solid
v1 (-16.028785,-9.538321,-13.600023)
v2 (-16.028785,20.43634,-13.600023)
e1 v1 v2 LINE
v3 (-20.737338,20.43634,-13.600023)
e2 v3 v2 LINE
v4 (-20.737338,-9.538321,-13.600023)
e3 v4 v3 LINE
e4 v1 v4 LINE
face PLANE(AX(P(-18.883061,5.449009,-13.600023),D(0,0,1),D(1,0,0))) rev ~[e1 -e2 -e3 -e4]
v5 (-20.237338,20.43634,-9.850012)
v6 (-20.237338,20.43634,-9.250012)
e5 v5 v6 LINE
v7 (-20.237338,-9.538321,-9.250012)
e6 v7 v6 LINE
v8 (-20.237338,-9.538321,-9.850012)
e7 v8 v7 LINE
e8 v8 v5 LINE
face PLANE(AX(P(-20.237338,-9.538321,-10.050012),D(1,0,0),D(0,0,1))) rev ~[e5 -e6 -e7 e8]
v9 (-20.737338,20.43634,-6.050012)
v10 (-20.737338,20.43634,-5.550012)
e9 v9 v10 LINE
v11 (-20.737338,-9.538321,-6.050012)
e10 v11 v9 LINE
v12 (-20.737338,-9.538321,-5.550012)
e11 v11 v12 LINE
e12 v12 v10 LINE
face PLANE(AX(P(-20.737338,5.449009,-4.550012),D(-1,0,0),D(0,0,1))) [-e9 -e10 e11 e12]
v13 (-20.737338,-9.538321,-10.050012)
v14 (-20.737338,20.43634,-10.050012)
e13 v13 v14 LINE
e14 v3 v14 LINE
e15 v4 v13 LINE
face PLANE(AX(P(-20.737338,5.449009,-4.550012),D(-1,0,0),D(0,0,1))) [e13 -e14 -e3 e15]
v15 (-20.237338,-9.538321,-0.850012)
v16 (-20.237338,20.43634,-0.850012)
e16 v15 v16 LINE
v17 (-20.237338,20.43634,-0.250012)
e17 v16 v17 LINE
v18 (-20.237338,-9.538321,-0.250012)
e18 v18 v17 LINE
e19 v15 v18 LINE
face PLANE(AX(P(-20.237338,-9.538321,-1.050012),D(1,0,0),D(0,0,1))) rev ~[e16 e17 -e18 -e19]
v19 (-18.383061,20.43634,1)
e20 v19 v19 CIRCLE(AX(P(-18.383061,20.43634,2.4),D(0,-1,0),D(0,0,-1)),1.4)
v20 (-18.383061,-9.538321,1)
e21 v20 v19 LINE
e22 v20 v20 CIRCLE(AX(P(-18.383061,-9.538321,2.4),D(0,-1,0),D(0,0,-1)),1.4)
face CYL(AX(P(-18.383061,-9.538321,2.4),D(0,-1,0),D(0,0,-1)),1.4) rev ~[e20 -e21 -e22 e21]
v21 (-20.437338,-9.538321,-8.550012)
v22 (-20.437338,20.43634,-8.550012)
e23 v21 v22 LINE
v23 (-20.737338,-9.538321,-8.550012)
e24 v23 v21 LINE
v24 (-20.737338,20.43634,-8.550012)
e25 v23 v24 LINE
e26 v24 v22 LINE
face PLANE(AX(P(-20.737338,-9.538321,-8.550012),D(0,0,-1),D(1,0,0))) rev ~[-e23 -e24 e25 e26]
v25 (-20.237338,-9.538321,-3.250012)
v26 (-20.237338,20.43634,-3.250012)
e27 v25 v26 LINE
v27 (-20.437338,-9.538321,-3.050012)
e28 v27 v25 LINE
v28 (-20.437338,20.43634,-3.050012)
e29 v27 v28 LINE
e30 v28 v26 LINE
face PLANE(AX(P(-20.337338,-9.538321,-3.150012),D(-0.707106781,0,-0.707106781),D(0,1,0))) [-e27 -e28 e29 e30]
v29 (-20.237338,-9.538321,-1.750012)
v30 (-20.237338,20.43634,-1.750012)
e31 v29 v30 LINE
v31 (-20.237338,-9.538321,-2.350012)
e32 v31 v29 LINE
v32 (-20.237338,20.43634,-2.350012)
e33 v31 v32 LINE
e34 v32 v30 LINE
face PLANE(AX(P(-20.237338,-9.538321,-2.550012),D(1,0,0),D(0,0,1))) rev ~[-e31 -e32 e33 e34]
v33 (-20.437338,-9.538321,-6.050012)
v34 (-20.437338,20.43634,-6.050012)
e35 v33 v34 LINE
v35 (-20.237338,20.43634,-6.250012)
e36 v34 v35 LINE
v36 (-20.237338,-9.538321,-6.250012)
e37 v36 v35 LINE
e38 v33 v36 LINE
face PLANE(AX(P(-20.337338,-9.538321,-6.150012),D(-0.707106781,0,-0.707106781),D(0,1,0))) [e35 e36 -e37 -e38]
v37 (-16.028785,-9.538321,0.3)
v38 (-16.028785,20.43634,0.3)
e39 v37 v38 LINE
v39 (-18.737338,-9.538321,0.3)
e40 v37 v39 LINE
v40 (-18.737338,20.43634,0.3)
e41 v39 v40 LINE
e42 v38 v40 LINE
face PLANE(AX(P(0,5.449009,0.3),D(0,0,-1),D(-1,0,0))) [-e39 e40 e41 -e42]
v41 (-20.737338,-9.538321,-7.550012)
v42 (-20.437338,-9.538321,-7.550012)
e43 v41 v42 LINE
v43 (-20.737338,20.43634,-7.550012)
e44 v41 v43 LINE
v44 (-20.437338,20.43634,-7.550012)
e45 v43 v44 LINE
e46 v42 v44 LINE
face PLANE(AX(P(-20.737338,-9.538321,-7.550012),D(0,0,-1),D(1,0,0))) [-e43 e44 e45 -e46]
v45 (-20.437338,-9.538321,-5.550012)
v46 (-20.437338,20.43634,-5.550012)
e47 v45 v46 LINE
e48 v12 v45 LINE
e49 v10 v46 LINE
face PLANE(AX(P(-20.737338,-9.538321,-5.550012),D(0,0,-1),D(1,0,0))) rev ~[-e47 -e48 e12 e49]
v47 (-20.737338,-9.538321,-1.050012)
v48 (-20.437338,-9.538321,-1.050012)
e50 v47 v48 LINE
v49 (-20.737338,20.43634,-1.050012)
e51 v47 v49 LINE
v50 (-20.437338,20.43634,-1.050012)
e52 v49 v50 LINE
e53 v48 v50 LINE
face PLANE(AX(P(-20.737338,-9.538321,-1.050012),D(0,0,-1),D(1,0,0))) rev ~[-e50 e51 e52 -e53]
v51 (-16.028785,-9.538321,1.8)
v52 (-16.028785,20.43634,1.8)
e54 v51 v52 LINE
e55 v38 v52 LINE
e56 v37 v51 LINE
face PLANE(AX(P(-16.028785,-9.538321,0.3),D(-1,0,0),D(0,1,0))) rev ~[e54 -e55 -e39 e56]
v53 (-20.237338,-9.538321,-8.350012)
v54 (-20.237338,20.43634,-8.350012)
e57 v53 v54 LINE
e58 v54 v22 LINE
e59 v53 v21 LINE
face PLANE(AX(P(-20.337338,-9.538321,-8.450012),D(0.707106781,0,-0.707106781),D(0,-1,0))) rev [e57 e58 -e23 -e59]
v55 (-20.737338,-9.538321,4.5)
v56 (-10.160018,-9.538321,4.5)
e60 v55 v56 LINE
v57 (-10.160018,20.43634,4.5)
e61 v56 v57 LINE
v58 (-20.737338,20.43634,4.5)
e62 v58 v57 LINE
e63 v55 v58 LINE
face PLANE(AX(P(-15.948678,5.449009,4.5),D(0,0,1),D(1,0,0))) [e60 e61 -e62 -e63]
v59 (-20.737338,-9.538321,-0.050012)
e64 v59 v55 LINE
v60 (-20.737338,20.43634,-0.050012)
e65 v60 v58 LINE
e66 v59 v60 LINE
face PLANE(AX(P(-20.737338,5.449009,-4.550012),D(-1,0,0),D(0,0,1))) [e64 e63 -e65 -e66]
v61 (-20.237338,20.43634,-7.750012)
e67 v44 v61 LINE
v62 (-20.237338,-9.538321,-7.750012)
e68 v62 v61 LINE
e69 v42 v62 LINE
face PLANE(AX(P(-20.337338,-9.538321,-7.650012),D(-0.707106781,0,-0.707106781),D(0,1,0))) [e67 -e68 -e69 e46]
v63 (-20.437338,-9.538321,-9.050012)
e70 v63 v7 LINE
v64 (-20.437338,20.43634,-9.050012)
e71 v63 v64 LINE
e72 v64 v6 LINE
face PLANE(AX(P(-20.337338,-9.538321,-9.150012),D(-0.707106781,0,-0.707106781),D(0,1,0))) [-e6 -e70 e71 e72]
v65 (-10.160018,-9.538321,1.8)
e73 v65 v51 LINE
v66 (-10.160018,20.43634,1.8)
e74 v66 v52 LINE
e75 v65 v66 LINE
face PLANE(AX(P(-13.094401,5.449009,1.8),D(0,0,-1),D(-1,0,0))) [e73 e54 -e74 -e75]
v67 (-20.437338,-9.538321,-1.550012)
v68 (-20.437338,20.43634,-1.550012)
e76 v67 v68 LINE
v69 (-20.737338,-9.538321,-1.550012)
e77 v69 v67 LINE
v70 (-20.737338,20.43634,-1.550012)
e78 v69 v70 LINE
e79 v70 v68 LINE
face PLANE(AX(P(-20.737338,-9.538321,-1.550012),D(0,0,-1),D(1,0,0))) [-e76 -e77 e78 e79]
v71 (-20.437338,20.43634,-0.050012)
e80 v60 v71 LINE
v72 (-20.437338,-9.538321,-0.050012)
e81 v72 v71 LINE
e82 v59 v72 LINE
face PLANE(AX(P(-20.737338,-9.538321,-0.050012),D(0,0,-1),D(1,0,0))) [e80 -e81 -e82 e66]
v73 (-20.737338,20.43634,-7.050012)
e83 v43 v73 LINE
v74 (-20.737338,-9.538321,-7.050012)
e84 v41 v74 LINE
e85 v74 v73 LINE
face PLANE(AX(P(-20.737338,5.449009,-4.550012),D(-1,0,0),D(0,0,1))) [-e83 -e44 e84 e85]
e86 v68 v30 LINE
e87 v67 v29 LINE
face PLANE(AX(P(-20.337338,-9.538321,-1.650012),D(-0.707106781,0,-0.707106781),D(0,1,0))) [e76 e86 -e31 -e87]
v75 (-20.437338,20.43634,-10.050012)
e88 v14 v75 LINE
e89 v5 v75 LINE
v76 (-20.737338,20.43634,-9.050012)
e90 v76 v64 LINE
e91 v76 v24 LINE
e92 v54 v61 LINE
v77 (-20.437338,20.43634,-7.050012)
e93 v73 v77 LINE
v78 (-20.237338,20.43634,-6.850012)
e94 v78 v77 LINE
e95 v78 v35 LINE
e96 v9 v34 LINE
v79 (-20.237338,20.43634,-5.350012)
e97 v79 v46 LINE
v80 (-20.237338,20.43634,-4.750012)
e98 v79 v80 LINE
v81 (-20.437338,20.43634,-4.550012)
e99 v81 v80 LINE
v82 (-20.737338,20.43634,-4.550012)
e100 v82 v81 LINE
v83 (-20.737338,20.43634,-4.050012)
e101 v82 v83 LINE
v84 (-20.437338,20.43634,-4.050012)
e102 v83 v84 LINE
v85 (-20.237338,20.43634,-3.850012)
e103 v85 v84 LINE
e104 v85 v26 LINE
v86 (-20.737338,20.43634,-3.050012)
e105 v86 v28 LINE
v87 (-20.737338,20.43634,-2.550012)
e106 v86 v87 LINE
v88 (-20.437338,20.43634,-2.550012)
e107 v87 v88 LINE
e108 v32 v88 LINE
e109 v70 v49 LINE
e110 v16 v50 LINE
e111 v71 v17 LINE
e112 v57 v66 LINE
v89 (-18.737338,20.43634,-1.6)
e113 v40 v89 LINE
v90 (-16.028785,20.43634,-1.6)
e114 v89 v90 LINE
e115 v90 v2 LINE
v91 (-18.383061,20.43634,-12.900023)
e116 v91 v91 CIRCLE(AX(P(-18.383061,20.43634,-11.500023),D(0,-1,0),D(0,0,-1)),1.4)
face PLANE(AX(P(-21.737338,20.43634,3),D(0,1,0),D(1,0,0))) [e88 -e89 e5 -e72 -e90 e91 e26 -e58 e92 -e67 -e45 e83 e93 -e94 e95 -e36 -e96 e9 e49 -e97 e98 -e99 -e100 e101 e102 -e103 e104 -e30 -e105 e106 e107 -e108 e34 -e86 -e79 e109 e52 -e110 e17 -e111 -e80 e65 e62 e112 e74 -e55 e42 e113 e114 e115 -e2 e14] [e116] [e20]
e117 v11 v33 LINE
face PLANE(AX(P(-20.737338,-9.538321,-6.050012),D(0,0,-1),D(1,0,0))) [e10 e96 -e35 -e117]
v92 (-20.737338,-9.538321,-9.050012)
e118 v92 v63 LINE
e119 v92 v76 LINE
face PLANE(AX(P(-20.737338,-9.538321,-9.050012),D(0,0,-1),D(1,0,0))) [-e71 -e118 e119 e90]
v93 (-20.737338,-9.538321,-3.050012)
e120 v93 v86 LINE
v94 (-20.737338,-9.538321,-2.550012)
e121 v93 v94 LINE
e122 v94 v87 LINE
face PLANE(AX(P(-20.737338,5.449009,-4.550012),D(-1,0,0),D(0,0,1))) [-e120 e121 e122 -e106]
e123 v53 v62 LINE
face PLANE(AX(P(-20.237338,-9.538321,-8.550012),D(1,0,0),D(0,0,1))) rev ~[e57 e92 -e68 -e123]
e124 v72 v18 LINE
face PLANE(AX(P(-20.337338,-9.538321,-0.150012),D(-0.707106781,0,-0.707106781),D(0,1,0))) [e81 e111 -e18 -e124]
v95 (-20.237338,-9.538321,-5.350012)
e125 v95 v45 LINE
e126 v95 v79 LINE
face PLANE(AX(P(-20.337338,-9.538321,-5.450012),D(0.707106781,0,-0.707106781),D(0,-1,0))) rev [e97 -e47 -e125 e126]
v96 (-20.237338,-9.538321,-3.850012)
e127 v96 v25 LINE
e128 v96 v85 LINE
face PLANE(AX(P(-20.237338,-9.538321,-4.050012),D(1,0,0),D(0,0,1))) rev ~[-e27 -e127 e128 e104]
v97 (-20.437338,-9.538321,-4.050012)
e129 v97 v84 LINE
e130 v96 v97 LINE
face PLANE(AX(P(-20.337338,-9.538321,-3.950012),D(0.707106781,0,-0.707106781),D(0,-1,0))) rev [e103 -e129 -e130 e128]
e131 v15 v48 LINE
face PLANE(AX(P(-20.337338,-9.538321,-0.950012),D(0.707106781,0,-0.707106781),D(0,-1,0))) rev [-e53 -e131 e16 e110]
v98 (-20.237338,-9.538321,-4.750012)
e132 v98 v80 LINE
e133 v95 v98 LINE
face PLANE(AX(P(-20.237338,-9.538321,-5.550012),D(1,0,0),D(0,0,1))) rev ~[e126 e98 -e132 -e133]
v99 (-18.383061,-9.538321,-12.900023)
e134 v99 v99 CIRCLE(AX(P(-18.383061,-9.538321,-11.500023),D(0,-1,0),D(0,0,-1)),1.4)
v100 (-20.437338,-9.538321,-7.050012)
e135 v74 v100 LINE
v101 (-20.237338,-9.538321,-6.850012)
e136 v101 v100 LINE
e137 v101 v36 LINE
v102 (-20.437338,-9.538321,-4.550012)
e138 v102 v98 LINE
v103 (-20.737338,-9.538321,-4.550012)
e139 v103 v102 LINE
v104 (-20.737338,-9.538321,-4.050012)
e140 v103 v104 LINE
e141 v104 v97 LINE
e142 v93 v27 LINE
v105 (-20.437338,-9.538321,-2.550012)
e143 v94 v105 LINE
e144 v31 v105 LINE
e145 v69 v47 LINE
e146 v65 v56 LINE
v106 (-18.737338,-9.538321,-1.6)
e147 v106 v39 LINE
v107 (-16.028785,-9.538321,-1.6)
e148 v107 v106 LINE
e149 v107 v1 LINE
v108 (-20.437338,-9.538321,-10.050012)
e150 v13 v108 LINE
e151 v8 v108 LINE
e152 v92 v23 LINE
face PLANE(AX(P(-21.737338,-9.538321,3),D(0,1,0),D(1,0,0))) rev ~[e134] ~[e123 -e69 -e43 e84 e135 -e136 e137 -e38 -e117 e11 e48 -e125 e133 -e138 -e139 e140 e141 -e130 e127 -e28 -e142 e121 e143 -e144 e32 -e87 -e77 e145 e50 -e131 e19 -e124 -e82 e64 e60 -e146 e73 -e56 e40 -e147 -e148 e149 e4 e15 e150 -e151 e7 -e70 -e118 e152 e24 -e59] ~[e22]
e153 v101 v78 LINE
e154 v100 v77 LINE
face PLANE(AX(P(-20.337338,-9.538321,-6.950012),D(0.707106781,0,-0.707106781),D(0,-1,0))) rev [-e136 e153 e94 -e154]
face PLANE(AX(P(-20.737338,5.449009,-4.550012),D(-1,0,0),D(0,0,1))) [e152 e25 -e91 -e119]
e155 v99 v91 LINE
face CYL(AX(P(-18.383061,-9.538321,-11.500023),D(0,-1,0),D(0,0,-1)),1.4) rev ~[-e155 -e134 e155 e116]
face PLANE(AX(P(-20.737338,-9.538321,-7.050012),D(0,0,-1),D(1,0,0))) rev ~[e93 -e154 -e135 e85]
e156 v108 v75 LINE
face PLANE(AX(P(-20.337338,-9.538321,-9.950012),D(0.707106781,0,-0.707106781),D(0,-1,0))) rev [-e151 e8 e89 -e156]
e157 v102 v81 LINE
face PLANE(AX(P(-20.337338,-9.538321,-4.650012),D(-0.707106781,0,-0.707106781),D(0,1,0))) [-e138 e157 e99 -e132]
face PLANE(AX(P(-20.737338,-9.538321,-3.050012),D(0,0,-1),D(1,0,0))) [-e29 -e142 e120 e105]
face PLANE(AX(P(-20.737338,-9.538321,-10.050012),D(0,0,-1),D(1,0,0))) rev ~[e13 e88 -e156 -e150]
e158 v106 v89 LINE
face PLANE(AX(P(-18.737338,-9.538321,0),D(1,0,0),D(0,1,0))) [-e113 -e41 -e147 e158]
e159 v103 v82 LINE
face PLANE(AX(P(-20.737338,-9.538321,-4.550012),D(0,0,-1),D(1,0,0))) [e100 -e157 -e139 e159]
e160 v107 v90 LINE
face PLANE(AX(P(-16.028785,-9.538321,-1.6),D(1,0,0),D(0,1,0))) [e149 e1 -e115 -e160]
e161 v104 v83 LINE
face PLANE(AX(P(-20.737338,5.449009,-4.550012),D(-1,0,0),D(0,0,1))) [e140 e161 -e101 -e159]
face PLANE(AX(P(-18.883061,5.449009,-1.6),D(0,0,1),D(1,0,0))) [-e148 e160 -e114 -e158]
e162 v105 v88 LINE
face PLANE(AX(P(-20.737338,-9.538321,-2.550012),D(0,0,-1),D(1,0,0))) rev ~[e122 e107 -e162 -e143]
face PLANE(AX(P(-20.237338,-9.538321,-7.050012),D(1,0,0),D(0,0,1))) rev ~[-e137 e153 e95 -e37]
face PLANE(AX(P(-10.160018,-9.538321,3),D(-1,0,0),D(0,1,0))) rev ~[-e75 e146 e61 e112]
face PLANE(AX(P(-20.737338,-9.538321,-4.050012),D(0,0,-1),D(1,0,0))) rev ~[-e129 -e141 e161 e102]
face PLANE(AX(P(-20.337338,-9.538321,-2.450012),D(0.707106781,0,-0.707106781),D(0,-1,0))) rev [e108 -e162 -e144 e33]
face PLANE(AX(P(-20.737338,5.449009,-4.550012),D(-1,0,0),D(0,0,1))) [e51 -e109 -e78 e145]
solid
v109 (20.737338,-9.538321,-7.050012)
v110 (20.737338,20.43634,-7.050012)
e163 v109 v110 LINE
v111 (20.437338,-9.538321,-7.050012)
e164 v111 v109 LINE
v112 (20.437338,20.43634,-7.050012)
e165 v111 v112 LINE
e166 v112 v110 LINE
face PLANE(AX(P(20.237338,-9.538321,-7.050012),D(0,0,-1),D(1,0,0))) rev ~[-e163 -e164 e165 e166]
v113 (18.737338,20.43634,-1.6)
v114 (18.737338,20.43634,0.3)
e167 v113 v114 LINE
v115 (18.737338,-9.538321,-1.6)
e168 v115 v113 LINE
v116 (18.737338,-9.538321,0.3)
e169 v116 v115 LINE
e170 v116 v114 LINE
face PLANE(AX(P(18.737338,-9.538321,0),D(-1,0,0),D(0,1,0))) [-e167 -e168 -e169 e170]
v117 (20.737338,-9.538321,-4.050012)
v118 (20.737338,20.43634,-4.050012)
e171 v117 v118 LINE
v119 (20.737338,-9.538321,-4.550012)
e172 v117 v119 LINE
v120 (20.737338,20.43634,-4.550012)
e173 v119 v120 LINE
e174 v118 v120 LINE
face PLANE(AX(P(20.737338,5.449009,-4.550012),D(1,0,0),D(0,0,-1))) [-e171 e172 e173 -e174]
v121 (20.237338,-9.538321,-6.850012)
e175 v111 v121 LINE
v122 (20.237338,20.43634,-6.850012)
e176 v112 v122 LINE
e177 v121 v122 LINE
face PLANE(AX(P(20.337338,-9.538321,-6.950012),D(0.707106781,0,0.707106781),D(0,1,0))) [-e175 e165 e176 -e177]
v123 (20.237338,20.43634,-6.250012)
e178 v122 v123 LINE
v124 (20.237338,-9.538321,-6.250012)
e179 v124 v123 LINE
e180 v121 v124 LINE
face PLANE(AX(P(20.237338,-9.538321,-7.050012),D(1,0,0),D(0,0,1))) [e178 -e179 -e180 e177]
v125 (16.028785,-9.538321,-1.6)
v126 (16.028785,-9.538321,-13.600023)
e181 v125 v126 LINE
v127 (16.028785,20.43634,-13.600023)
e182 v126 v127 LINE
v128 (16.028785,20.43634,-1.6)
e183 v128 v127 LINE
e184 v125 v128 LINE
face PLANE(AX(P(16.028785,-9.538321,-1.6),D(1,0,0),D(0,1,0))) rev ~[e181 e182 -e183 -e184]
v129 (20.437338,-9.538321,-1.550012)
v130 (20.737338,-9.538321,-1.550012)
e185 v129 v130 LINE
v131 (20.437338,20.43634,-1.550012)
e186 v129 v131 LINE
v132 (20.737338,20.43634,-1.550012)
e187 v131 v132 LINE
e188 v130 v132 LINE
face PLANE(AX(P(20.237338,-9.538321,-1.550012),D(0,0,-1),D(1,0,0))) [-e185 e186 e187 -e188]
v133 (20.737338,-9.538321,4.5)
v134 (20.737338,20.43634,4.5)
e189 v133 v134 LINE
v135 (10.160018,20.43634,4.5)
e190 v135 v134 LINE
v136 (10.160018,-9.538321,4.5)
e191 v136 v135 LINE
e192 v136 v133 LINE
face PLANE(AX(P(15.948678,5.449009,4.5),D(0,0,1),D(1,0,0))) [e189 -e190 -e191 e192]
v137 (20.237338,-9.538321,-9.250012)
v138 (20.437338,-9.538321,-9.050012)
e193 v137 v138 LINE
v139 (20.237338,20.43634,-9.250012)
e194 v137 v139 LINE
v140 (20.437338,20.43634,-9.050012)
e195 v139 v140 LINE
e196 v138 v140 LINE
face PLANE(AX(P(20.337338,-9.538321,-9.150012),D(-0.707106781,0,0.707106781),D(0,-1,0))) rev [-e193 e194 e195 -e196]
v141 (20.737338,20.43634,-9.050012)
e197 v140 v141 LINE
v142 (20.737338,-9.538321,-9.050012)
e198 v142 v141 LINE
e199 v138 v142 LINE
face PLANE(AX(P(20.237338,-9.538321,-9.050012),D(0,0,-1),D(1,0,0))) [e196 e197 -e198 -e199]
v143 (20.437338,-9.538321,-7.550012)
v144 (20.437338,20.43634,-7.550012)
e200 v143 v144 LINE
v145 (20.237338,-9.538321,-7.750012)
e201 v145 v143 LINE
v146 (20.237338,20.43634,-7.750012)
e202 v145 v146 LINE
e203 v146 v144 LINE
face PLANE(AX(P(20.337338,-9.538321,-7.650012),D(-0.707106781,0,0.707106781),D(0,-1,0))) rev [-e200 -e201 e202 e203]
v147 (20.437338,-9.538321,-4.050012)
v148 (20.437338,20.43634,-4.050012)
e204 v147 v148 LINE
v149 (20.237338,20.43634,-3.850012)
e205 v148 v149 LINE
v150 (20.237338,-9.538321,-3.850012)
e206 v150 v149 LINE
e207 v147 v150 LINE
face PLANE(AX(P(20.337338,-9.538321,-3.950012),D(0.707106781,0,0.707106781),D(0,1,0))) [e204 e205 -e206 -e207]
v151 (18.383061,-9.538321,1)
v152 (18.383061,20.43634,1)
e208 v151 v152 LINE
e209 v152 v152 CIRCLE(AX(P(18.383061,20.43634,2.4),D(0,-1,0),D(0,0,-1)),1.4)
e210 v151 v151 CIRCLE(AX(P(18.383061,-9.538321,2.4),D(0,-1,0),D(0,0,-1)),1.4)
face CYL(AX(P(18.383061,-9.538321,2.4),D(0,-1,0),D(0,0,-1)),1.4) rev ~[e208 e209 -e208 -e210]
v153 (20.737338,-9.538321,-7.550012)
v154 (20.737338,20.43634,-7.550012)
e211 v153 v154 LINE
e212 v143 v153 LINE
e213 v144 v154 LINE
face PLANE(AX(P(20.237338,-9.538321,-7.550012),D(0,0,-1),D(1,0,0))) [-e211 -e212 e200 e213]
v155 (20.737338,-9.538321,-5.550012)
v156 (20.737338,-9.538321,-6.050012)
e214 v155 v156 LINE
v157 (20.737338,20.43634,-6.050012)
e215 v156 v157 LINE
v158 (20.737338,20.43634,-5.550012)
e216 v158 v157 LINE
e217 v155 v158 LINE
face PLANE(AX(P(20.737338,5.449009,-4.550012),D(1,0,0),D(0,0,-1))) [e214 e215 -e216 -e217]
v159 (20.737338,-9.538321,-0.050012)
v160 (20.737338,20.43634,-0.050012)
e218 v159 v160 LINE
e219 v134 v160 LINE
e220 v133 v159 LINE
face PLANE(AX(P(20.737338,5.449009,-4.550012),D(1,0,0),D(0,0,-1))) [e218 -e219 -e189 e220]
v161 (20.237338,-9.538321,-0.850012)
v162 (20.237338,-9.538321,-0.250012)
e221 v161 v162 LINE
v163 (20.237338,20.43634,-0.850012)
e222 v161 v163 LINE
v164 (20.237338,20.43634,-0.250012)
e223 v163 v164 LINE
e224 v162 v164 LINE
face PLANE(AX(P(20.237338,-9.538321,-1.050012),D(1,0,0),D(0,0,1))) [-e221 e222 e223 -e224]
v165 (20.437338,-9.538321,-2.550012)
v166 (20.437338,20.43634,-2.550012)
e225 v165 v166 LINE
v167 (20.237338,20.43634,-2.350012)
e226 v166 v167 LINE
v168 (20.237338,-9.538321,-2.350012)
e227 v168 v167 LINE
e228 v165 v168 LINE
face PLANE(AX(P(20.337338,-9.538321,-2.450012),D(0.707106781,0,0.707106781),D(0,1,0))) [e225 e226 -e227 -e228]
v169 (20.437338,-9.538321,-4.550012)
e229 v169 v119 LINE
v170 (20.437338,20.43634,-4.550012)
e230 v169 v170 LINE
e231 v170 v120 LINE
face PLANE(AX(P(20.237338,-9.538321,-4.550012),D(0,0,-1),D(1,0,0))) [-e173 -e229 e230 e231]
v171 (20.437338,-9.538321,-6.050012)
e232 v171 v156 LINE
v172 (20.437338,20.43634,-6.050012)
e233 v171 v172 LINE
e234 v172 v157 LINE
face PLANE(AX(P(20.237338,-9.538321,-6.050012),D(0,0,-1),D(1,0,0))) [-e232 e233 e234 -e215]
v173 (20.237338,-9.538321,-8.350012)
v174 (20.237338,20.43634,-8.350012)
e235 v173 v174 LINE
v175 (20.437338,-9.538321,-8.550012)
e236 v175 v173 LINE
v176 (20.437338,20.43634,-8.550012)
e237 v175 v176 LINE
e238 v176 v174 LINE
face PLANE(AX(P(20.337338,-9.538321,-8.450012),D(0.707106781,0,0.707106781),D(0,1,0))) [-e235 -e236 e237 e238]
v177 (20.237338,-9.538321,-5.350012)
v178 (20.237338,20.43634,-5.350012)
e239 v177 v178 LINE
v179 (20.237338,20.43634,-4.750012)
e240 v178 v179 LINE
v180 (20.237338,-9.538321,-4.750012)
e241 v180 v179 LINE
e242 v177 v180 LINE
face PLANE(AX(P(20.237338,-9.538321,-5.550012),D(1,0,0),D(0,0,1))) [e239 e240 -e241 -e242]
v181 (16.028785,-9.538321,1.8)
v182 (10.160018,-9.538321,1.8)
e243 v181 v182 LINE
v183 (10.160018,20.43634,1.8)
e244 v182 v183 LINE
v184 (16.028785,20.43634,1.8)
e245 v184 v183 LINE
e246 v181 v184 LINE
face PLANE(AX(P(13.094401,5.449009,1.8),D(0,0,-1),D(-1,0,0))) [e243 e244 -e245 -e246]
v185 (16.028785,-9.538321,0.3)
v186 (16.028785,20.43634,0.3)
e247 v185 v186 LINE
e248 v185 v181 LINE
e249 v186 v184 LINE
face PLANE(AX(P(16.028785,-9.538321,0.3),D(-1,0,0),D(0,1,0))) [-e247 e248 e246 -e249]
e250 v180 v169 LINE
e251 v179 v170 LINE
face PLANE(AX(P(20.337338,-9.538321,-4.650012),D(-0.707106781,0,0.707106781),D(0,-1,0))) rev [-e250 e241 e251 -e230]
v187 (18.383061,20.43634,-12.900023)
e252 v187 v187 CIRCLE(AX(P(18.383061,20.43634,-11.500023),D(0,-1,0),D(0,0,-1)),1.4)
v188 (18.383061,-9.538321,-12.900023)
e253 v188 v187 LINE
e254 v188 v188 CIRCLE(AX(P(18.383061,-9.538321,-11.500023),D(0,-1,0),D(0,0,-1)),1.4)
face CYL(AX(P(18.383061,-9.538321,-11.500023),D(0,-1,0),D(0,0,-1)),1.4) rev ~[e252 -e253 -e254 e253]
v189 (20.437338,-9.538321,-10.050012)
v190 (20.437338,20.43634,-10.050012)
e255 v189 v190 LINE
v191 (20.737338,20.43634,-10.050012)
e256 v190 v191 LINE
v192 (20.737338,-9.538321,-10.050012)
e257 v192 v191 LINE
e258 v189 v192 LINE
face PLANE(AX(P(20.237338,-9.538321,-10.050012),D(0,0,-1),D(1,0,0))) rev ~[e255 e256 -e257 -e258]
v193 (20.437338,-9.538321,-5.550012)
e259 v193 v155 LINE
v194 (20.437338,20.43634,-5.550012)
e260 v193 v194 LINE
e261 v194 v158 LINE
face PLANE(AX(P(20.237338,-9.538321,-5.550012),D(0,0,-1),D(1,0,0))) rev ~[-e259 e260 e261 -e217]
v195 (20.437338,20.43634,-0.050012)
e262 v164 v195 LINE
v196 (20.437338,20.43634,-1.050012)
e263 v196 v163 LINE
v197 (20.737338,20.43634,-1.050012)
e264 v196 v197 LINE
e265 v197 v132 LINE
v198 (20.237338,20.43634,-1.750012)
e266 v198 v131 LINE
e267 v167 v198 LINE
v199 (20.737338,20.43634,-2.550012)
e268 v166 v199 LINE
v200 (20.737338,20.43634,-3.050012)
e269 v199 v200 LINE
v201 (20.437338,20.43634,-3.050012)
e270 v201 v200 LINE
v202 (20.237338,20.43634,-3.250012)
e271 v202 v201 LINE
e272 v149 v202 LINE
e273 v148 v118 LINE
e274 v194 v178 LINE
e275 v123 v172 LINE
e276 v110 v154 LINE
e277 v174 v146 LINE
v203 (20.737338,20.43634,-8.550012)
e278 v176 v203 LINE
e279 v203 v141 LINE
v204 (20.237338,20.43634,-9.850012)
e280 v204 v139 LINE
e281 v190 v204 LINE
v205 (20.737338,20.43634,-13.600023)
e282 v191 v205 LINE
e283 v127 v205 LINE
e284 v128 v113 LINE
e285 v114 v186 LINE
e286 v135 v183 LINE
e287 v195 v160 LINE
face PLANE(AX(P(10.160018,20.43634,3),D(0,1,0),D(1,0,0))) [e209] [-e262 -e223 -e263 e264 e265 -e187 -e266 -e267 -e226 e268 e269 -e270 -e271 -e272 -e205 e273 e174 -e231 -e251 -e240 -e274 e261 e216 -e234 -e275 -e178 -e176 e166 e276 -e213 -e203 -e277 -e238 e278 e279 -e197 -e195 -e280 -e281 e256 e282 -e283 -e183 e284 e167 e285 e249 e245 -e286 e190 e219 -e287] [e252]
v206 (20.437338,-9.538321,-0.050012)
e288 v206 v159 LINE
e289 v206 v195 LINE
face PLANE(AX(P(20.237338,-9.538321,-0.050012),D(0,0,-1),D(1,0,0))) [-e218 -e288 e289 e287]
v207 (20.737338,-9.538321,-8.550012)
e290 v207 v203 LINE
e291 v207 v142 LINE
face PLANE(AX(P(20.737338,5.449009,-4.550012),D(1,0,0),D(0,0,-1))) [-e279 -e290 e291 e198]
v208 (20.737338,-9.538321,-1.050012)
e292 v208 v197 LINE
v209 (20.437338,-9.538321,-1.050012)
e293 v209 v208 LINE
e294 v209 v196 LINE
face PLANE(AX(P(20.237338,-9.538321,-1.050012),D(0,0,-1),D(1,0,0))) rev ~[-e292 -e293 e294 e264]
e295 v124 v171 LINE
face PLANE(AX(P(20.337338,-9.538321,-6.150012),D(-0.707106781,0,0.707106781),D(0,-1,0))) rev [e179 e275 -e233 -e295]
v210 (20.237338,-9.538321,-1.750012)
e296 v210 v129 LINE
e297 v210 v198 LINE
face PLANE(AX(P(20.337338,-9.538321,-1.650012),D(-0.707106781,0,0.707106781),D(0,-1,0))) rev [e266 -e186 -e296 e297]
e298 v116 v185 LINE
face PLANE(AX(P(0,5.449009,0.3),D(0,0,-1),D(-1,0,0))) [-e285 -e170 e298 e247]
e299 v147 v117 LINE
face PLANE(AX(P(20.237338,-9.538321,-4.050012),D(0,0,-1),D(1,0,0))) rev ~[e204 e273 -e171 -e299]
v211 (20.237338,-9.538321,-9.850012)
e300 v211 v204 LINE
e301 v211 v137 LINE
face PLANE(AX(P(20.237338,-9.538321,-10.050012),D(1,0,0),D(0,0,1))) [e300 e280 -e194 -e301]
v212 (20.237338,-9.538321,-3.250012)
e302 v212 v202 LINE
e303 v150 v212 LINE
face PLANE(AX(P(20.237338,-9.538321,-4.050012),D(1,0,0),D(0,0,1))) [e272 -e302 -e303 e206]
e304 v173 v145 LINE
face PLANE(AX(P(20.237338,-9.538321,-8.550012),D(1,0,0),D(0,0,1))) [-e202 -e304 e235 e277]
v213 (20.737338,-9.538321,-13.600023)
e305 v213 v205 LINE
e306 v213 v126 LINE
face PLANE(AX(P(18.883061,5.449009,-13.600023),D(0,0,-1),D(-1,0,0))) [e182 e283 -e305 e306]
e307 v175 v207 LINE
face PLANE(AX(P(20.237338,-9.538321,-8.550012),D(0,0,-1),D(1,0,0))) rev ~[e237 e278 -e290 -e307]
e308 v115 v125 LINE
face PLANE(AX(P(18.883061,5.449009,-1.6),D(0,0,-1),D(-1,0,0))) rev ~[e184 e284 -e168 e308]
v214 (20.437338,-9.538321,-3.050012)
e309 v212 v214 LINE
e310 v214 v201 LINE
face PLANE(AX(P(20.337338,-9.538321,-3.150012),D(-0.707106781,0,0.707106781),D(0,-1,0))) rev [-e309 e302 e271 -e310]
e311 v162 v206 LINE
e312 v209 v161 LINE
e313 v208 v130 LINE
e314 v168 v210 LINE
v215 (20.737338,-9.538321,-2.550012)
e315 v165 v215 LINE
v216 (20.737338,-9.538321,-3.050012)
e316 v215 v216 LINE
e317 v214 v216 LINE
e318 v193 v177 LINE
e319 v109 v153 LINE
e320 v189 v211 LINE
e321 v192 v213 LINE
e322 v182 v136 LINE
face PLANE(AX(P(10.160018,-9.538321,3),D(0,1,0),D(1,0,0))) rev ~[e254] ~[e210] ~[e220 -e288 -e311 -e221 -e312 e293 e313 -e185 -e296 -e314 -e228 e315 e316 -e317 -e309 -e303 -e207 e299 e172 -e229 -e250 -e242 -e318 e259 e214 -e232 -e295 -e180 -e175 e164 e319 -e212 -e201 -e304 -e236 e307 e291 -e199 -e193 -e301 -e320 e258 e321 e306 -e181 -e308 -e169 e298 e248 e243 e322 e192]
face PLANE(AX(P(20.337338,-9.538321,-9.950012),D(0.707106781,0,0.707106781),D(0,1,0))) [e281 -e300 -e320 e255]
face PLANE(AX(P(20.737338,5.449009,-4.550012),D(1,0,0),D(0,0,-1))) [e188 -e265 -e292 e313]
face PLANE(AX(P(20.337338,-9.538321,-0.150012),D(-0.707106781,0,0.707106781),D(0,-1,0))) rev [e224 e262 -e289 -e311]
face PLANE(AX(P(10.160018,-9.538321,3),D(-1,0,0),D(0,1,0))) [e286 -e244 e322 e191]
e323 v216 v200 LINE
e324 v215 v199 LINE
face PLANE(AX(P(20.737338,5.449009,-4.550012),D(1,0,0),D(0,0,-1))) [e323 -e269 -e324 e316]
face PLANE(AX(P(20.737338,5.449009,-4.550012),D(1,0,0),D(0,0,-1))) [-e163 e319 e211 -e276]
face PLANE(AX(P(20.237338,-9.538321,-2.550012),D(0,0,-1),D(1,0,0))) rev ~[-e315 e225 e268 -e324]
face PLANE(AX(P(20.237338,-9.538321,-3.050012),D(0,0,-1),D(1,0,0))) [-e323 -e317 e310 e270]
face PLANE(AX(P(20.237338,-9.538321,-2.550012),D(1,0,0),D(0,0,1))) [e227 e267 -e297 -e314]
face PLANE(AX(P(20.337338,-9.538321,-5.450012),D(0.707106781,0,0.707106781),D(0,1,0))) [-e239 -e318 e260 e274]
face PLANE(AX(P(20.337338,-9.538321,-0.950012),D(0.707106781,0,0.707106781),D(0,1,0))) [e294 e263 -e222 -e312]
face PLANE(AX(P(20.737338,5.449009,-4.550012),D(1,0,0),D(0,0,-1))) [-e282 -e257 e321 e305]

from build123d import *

# Parameters (mm, degrees)
SKETCH_1_W          = 37.47467615
SKETCH_1_H          = 29.97466091
EXTRUDE_1_DEPTH     = 3
SKETCH_2_W          = 3
SKETCH_2_H          = 29.97466091
EXTRUDE_2_DEPTH     = 3
SKETCH_3_W          = 3
SKETCH_3_H          = 29.97466091
EXTRUDE_3_DEPTH     = 3
SKETCH_4_W          = 3
SKETCH_4_H          = 29.97466091
EXTRUDE_4_DEPTH     = 1.6
EXTRUDE_7_DEPTH     = 12.000023
SKETCH_7_W          = 37.47467615
SKETCH_7_H          = 29.97466091
CUT_EXTRUDE_1_DEPTH = 0.3
SKETCH_8_W          = 20.320035554
SKETCH_8_H          = 29.97466091
CUT_EXTRUDE_3_DEPTH = 2.7
SKETCH_9_W          = 5.86876683
SKETCH_9_H          = 29.97466091
CUT_EXTRUDE_4_DEPTH = 1.5
SKETCH_10_W         = 11.577320298
SKETCH_10_H         = 29.97466091
EXTRUDE_8_DEPTH     = 1.5
SKETCH_11_W         = 18.100023376
SKETCH_11_H         = 29.97466091
CUT_EXTRUDE_5_DEPTH = 1
SKETCH_12_W         = 18.100023376
SKETCH_12_H         = 29.97466091
CUT_EXTRUDE_6_DEPTH = 1
CUT_EXTRUDE_7_REACH = 40.903
SKETCH_14_R         = 1.4
CUT_EXTRUDE_8_REACH = 40.903
SKETCH_16_W         = 0.5
SKETCH_16_H         = 1
CHAMFER_1_SIZE      = 0.2
CHAMFER_2_SIZE      = 0.2


with BuildPart() as part:
    # 草图1 → 凸台-拉伸1 (new body)
    with BuildSketch(Plane.XY):
        with Locations((0, 5.449009398)):
            Rectangle(SKETCH_1_W, SKETCH_1_H)
    extrude(amount=EXTRUDE_1_DEPTH)

    # 草图2 → 凸台-拉伸2 (add)
    with BuildSketch(Plane.ZY.offset(18.737338075)):
        with Locations((1.5, 5.449009398)):
            Rectangle(SKETCH_2_W, SKETCH_2_H)
    extrude(amount=EXTRUDE_2_DEPTH)

    # 草图3 → 凸台-拉伸3 (add)
    with BuildSketch(Plane(origin=(18.737338075, 0, 0), x_dir=(0, 0, -1), z_dir=(1, 0, 0))):
        with Locations((-1.5, 5.449009398)):
            Rectangle(SKETCH_3_W, SKETCH_3_H)
    extrude(amount=EXTRUDE_3_DEPTH)

    # 草图4 → 凸台-拉伸4 (add)
    with BuildSketch(Plane(origin=(0, 0, 0), x_dir=(-1, 0, 0), z_dir=(0, 0, -1))):
        with Locations((-20.237338075, 5.449009398)):
            Rectangle(SKETCH_4_W, SKETCH_4_H)
        with Locations((20.237338075, 5.449009398)):
            Rectangle(SKETCH_4_W, SKETCH_4_H)
    extrude(amount=EXTRUDE_4_DEPTH)

    # 草图5 → 凸台-拉伸7 (add)
    with BuildSketch(Plane(origin=(0, 0, -1.6), x_dir=(-1, 0, 0), z_dir=(0, 0, -1))):
        Polygon((-18.737338075, -9.538321057), (-16.028784607, -9.538321057), (-16.028784607, 20.436339853), (-18.737338075, 20.436339853), (-21.737338075, 20.436339853), (-21.737338075, -9.538321057), align=None)
        Polygon((18.737338075, 20.436339853), (21.737338075, 20.436339853), (21.737338075, -9.538321057), (18.737338075, -9.538321057), (16.028784607, -9.538321057), (16.028784607, 20.436339853), align=None)
    extrude(amount=EXTRUDE_7_DEPTH)

    # 草图7 → 切除-拉伸1 (cut)
    with BuildSketch(Plane(origin=(0, 0, 0), x_dir=(-1, 0, 0), z_dir=(0, 0, -1))):
        with Locations((0, 5.449009398)):
            Rectangle(SKETCH_7_W, SKETCH_7_H)
    extrude(amount=-CUT_EXTRUDE_1_DEPTH, mode=Mode.SUBTRACT)

    # 草图8 → 切除-拉伸3 (cut)
    with BuildSketch(Plane.XY.offset(3)):
        with Locations((0, 5.449009398)):
            Rectangle(SKETCH_8_W, SKETCH_8_H)
    extrude(amount=-CUT_EXTRUDE_3_DEPTH, mode=Mode.SUBTRACT)


with BuildPart() as cut_extrude_3_piece_1:
    # of the separate pieces the step leaves, piece 1, a body of its own (cut_extrude_3_pieces)
    add(part.part.solids().sort_by_distance((-21.737338075, -9.538321057, 3))[0])


with BuildPart() as cut_extrude_3_piece_2:
    # of the separate pieces the step leaves, piece 2, a body of its own (cut_extrude_3_pieces)
    add(part.part.solids().sort_by_distance((10.160017777, -9.538321057, 3))[0])


with BuildPart() as cut_extrude_4_tool:
    # 草图9 → 切除-拉伸4 (new body)
    with BuildSketch(Plane(origin=(0, 0, 0.3), x_dir=(-1, 0, 0), z_dir=(0, 0, -1))):
        with Locations((13.094401192, 5.449009398)):
            Rectangle(SKETCH_9_W, SKETCH_9_H)
        with Locations((-13.094401192, 5.449009398)):
            Rectangle(SKETCH_9_W, SKETCH_9_H)
    extrude(amount=-CUT_EXTRUDE_4_DEPTH)


with BuildPart() as cut_extrude_3_piece_1_1:
    add(cut_extrude_3_piece_1.part)

    # 切除-拉伸4: cut by cut_extrude_4_tool
    add(cut_extrude_4_tool.part, mode=Mode.SUBTRACT)



with BuildPart() as cut_extrude_3_piece_2_1:
    add(cut_extrude_3_piece_2.part)

    # 切除-拉伸4: cut by cut_extrude_4_tool
    add(cut_extrude_4_tool.part, mode=Mode.SUBTRACT)


with BuildPart() as cut_extrude_3_piece_1_2:
    add(cut_extrude_3_piece_1_1.part)

    add(cut_extrude_3_piece_2_1.part)  # 凸台-拉伸8 merges 切除-拉伸3 piece 2
    # 草图10 → 凸台-拉伸8 (add)
    with BuildSketch(Plane.XY.offset(3)):
        with Locations((-15.948677926, 5.449009398)):
            Rectangle(SKETCH_10_W, SKETCH_10_H)
        with Locations((15.948677926, 5.449009398)):
            Rectangle(SKETCH_10_W, SKETCH_10_H)
    extrude(amount=EXTRUDE_8_DEPTH)

    # 草图11 → 切除-拉伸5 (cut)
    with BuildSketch(Plane(origin=(21.737338075, 0, 0), x_dir=(0, 0, -1), z_dir=(1, 0, 0))):
        with Locations((4.550011688, 5.449009398)):
            Rectangle(SKETCH_11_W, SKETCH_11_H)
    extrude(amount=-CUT_EXTRUDE_5_DEPTH, mode=Mode.SUBTRACT)

    # 草图12 → 切除-拉伸6 (cut)
    with BuildSketch(Plane.ZY.offset(21.737338075)):
        with Locations((-4.550011688, 5.449009398)):
            Rectangle(SKETCH_12_W, SKETCH_12_H)
    extrude(amount=-CUT_EXTRUDE_6_DEPTH, mode=Mode.SUBTRACT)

    # 草图14 → 切除-拉伸7 (cut, up to next)
    with BuildSketch(Plane.XZ.offset(9.538321057), mode=Mode.PRIVATE) as cut_extrude_7_sk1:
        with Locations(Location((18.383061341, -11.500023376, 0), (0, 0, 270))):
            Circle(SKETCH_14_R)
    cut_extrude_7_tool1 = extrude(cut_extrude_7_sk1.sketch, amount=-CUT_EXTRUDE_7_REACH, mode=Mode.PRIVATE) & cut_extrude_3_piece_1_2.part
    # 草图14 → 切除-拉伸7 (cut, up to next)
    with BuildSketch(Plane.XZ.offset(9.538321057), mode=Mode.PRIVATE) as cut_extrude_7_sk2:
        with Locations(Location((18.383061341, 2.4, 0), (0, 0, 270))):
            Circle(SKETCH_14_R)
    cut_extrude_7_tool2 = extrude(cut_extrude_7_sk2.sketch, amount=-CUT_EXTRUDE_7_REACH, mode=Mode.PRIVATE) & cut_extrude_3_piece_1_2.part
    # 草图14 → 切除-拉伸7 (cut, up to next)
    with BuildSketch(Plane.XZ.offset(9.538321057), mode=Mode.PRIVATE) as cut_extrude_7_sk3:
        with Locations(Location((-18.383061341, 2.4, 0), (0, 0, 270))):
            Circle(SKETCH_14_R)
    cut_extrude_7_tool3 = extrude(cut_extrude_7_sk3.sketch, amount=-CUT_EXTRUDE_7_REACH, mode=Mode.PRIVATE) & cut_extrude_3_piece_1_2.part
    # 草图14 → 切除-拉伸7 (cut, up to next)
    with BuildSketch(Plane.XZ.offset(9.538321057), mode=Mode.PRIVATE) as cut_extrude_7_sk4:
        with Locations(Location((-18.383061341, -11.500023376, 0), (0, 0, 270))):
            Circle(SKETCH_14_R)
    cut_extrude_7_tool4 = extrude(cut_extrude_7_sk4.sketch, amount=-CUT_EXTRUDE_7_REACH, mode=Mode.PRIVATE) & cut_extrude_3_piece_1_2.part
    add(cut_extrude_7_tool1.solids().sort_by_distance((18.383061, -9.538321, -11.500023))[0], mode=Mode.SUBTRACT)
    add(cut_extrude_7_tool2.solids().sort_by_distance((18.383061, -9.538321, 2.4))[0], mode=Mode.SUBTRACT)
    add(cut_extrude_7_tool3.solids().sort_by_distance((-18.383061, -9.538321, 2.4))[0], mode=Mode.SUBTRACT)
    add(cut_extrude_7_tool4.solids().sort_by_distance((-18.383061, -9.538321, -11.500023))[0], mode=Mode.SUBTRACT)

    # 草图16 → 切除-拉伸8 (cut, up to next)
    with BuildSketch(Plane.XZ.offset(9.538321057), mode=Mode.PRIVATE) as cut_extrude_8_sk1:
        with Locations((20.487338075, -9.550011688)):
            Rectangle(SKETCH_16_W, SKETCH_16_H)
    cut_extrude_8_tool1 = extrude(cut_extrude_8_sk1.sketch, amount=-CUT_EXTRUDE_8_REACH, mode=Mode.PRIVATE) & cut_extrude_3_piece_1_2.part
    # 草图16 → 切除-拉伸8 (cut, up to next)
    with BuildSketch(Plane.XZ.offset(9.538321057), mode=Mode.PRIVATE) as cut_extrude_8_sk2:
        with Locations((20.487338075, -8.050011688)):
            Rectangle(SKETCH_16_W, SKETCH_16_H)
    cut_extrude_8_tool2 = extrude(cut_extrude_8_sk2.sketch, amount=-CUT_EXTRUDE_8_REACH, mode=Mode.PRIVATE) & cut_extrude_3_piece_1_2.part
    # 草图16 → 切除-拉伸8 (cut, up to next)
    with BuildSketch(Plane.XZ.offset(9.538321057), mode=Mode.PRIVATE) as cut_extrude_8_sk3:
        with Locations((20.487338075, -6.550011688)):
            Rectangle(SKETCH_16_W, SKETCH_16_H)
    cut_extrude_8_tool3 = extrude(cut_extrude_8_sk3.sketch, amount=-CUT_EXTRUDE_8_REACH, mode=Mode.PRIVATE) & cut_extrude_3_piece_1_2.part
    # 草图16 → 切除-拉伸8 (cut, up to next)
    with BuildSketch(Plane.XZ.offset(9.538321057), mode=Mode.PRIVATE) as cut_extrude_8_sk4:
        with Locations((20.487338075, -5.050011688)):
            Rectangle(SKETCH_16_W, SKETCH_16_H)
    cut_extrude_8_tool4 = extrude(cut_extrude_8_sk4.sketch, amount=-CUT_EXTRUDE_8_REACH, mode=Mode.PRIVATE) & cut_extrude_3_piece_1_2.part
    # 草图16 → 切除-拉伸8 (cut, up to next)
    with BuildSketch(Plane.XZ.offset(9.538321057), mode=Mode.PRIVATE) as cut_extrude_8_sk5:
        with Locations((20.487338075, -3.550011688)):
            Rectangle(SKETCH_16_W, SKETCH_16_H)
    cut_extrude_8_tool5 = extrude(cut_extrude_8_sk5.sketch, amount=-CUT_EXTRUDE_8_REACH, mode=Mode.PRIVATE) & cut_extrude_3_piece_1_2.part
    # 草图16 → 切除-拉伸8 (cut, up to next)
    with BuildSketch(Plane.XZ.offset(9.538321057), mode=Mode.PRIVATE) as cut_extrude_8_sk6:
        with Locations((20.487338075, -2.050011688)):
            Rectangle(SKETCH_16_W, SKETCH_16_H)
    cut_extrude_8_tool6 = extrude(cut_extrude_8_sk6.sketch, amount=-CUT_EXTRUDE_8_REACH, mode=Mode.PRIVATE) & cut_extrude_3_piece_1_2.part
    # 草图16 → 切除-拉伸8 (cut, up to next)
    with BuildSketch(Plane.XZ.offset(9.538321057), mode=Mode.PRIVATE) as cut_extrude_8_sk7:
        with Locations((20.487338075, -0.550011688)):
            Rectangle(SKETCH_16_W, SKETCH_16_H)
    cut_extrude_8_tool7 = extrude(cut_extrude_8_sk7.sketch, amount=-CUT_EXTRUDE_8_REACH, mode=Mode.PRIVATE) & cut_extrude_3_piece_1_2.part
    # 草图16 → 切除-拉伸8 (cut, up to next)
    with BuildSketch(Plane.XZ.offset(9.538321057), mode=Mode.PRIVATE) as cut_extrude_8_sk8:
        with Locations((-20.487338075, -9.550011688)):
            Rectangle(SKETCH_16_W, SKETCH_16_H)
    cut_extrude_8_tool8 = extrude(cut_extrude_8_sk8.sketch, amount=-CUT_EXTRUDE_8_REACH, mode=Mode.PRIVATE) & cut_extrude_3_piece_1_2.part
    # 草图16 → 切除-拉伸8 (cut, up to next)
    with BuildSketch(Plane.XZ.offset(9.538321057), mode=Mode.PRIVATE) as cut_extrude_8_sk9:
        with Locations((-20.487338075, -8.050011688)):
            Rectangle(SKETCH_16_W, SKETCH_16_H)
    cut_extrude_8_tool9 = extrude(cut_extrude_8_sk9.sketch, amount=-CUT_EXTRUDE_8_REACH, mode=Mode.PRIVATE) & cut_extrude_3_piece_1_2.part
    # 草图16 → 切除-拉伸8 (cut, up to next)
    with BuildSketch(Plane.XZ.offset(9.538321057), mode=Mode.PRIVATE) as cut_extrude_8_sk10:
        with Locations((-20.487338075, -6.550011688)):
            Rectangle(SKETCH_16_W, SKETCH_16_H)
    cut_extrude_8_tool10 = extrude(cut_extrude_8_sk10.sketch, amount=-CUT_EXTRUDE_8_REACH, mode=Mode.PRIVATE) & cut_extrude_3_piece_1_2.part
    # 草图16 → 切除-拉伸8 (cut, up to next)
    with BuildSketch(Plane.XZ.offset(9.538321057), mode=Mode.PRIVATE) as cut_extrude_8_sk11:
        with Locations((-20.487338075, -5.050011688)):
            Rectangle(SKETCH_16_W, SKETCH_16_H)
    cut_extrude_8_tool11 = extrude(cut_extrude_8_sk11.sketch, amount=-CUT_EXTRUDE_8_REACH, mode=Mode.PRIVATE) & cut_extrude_3_piece_1_2.part
    # 草图16 → 切除-拉伸8 (cut, up to next)
    with BuildSketch(Plane.XZ.offset(9.538321057), mode=Mode.PRIVATE) as cut_extrude_8_sk12:
        with Locations((-20.487338075, -0.550011688)):
            Rectangle(SKETCH_16_W, SKETCH_16_H)
    cut_extrude_8_tool12 = extrude(cut_extrude_8_sk12.sketch, amount=-CUT_EXTRUDE_8_REACH, mode=Mode.PRIVATE) & cut_extrude_3_piece_1_2.part
    # 草图16 → 切除-拉伸8 (cut, up to next)
    with BuildSketch(Plane.XZ.offset(9.538321057), mode=Mode.PRIVATE) as cut_extrude_8_sk13:
        with Locations((-20.487338075, -2.050011688)):
            Rectangle(SKETCH_16_W, SKETCH_16_H)
    cut_extrude_8_tool13 = extrude(cut_extrude_8_sk13.sketch, amount=-CUT_EXTRUDE_8_REACH, mode=Mode.PRIVATE) & cut_extrude_3_piece_1_2.part
    # 草图16 → 切除-拉伸8 (cut, up to next)
    with BuildSketch(Plane.XZ.offset(9.538321057), mode=Mode.PRIVATE) as cut_extrude_8_sk14:
        with Locations((-20.487338075, -3.550011688)):
            Rectangle(SKETCH_16_W, SKETCH_16_H)
    cut_extrude_8_tool14 = extrude(cut_extrude_8_sk14.sketch, amount=-CUT_EXTRUDE_8_REACH, mode=Mode.PRIVATE) & cut_extrude_3_piece_1_2.part
    add(cut_extrude_8_tool1.solids().sort_by_distance((20.487338, -9.538321, -9.550012))[0], mode=Mode.SUBTRACT)
    add(cut_extrude_8_tool2.solids().sort_by_distance((20.487338, -9.538321, -8.050012))[0], mode=Mode.SUBTRACT)
    add(cut_extrude_8_tool3.solids().sort_by_distance((20.487338, -9.538321, -6.550012))[0], mode=Mode.SUBTRACT)
    add(cut_extrude_8_tool4.solids().sort_by_distance((20.487338, -9.538321, -5.050012))[0], mode=Mode.SUBTRACT)
    add(cut_extrude_8_tool5.solids().sort_by_distance((20.487338, -9.538321, -3.550012))[0], mode=Mode.SUBTRACT)
    add(cut_extrude_8_tool6.solids().sort_by_distance((20.487338, -9.538321, -2.050012))[0], mode=Mode.SUBTRACT)
    add(cut_extrude_8_tool7.solids().sort_by_distance((20.487338, -9.538321, -0.550012))[0], mode=Mode.SUBTRACT)
    add(cut_extrude_8_tool8.solids().sort_by_distance((-20.487338, -9.538321, -9.550012))[0], mode=Mode.SUBTRACT)
    add(cut_extrude_8_tool9.solids().sort_by_distance((-20.487338, -9.538321, -8.050012))[0], mode=Mode.SUBTRACT)
    add(cut_extrude_8_tool10.solids().sort_by_distance((-20.487338, -9.538321, -6.550012))[0], mode=Mode.SUBTRACT)
    add(cut_extrude_8_tool11.solids().sort_by_distance((-20.487338, -9.538321, -5.050012))[0], mode=Mode.SUBTRACT)
    add(cut_extrude_8_tool12.solids().sort_by_distance((-20.487338, -9.538321, -0.550012))[0], mode=Mode.SUBTRACT)
    add(cut_extrude_8_tool13.solids().sort_by_distance((-20.487338, -9.538321, -2.050012))[0], mode=Mode.SUBTRACT)
    add(cut_extrude_8_tool14.solids().sort_by_distance((-20.487338, -9.538321, -3.550012))[0], mode=Mode.SUBTRACT)

    # 倒角1
    chamfer_1_edges = [cut_extrude_3_piece_1_2.edges().sort_by_distance(p)[0] for p in [
        (20.237338075, 5.449009398, -10.050011688),
        (20.237338075, 5.449009398, -9.050011688),
        (20.237338075, 5.449009398, -8.550011688),
        (20.237338075, 5.449009398, -7.550011688),
        (20.237338075, 5.449009398, -7.050011688),
        (20.237338075, 5.449009398, -6.050011688),
        (20.237338075, 5.449009398, -5.550011688),
        (20.237338075, 5.449009398, -4.550011688),
        (20.237338075, 5.449009398, -4.050011688),
        (20.237338075, 5.449009398, -3.050011688),
        (20.237338075, 5.449009398, -2.550011688),
        (20.237338075, 5.449009398, -1.550011688),
        (20.237338075, 5.449009398, -1.050011688),
        (20.237338075, 5.449009398, -0.050011688),
    ]]
    chamfer(chamfer_1_edges, length=CHAMFER_1_SIZE)

    # 倒角2
    chamfer_2_edges = [cut_extrude_3_piece_1_2.edges().sort_by_distance(p)[0] for p in [
        (-20.237338075, 5.449009398, -10.050011688),
        (-20.237338075, 5.449009398, -9.050011688),
        (-20.237338075, 5.449009398, -8.550011688),
        (-20.237338075, 5.449009398, -7.550011688),
        (-20.237338075, 5.449009398, -7.050011688),
        (-20.237338075, 5.449009398, -6.050011688),
        (-20.237338075, 5.449009398, -5.550011688),
        (-20.237338075, 5.449009398, -4.550011688),
        (-20.237338075, 5.449009398, -1.050011688),
        (-20.237338075, 5.449009398, -0.050011688),
        (-20.237338075, 5.449009398, -2.550011688),
        (-20.237338075, 5.449009398, -1.550011688),
        (-20.237338075, 5.449009398, -4.050011688),
        (-20.237338075, 5.449009398, -3.050011688),
    ]]
    chamfer(chamfer_2_edges, length=CHAMFER_2_SIZE)


solid = cut_extrude_3_piece_1_2.part
